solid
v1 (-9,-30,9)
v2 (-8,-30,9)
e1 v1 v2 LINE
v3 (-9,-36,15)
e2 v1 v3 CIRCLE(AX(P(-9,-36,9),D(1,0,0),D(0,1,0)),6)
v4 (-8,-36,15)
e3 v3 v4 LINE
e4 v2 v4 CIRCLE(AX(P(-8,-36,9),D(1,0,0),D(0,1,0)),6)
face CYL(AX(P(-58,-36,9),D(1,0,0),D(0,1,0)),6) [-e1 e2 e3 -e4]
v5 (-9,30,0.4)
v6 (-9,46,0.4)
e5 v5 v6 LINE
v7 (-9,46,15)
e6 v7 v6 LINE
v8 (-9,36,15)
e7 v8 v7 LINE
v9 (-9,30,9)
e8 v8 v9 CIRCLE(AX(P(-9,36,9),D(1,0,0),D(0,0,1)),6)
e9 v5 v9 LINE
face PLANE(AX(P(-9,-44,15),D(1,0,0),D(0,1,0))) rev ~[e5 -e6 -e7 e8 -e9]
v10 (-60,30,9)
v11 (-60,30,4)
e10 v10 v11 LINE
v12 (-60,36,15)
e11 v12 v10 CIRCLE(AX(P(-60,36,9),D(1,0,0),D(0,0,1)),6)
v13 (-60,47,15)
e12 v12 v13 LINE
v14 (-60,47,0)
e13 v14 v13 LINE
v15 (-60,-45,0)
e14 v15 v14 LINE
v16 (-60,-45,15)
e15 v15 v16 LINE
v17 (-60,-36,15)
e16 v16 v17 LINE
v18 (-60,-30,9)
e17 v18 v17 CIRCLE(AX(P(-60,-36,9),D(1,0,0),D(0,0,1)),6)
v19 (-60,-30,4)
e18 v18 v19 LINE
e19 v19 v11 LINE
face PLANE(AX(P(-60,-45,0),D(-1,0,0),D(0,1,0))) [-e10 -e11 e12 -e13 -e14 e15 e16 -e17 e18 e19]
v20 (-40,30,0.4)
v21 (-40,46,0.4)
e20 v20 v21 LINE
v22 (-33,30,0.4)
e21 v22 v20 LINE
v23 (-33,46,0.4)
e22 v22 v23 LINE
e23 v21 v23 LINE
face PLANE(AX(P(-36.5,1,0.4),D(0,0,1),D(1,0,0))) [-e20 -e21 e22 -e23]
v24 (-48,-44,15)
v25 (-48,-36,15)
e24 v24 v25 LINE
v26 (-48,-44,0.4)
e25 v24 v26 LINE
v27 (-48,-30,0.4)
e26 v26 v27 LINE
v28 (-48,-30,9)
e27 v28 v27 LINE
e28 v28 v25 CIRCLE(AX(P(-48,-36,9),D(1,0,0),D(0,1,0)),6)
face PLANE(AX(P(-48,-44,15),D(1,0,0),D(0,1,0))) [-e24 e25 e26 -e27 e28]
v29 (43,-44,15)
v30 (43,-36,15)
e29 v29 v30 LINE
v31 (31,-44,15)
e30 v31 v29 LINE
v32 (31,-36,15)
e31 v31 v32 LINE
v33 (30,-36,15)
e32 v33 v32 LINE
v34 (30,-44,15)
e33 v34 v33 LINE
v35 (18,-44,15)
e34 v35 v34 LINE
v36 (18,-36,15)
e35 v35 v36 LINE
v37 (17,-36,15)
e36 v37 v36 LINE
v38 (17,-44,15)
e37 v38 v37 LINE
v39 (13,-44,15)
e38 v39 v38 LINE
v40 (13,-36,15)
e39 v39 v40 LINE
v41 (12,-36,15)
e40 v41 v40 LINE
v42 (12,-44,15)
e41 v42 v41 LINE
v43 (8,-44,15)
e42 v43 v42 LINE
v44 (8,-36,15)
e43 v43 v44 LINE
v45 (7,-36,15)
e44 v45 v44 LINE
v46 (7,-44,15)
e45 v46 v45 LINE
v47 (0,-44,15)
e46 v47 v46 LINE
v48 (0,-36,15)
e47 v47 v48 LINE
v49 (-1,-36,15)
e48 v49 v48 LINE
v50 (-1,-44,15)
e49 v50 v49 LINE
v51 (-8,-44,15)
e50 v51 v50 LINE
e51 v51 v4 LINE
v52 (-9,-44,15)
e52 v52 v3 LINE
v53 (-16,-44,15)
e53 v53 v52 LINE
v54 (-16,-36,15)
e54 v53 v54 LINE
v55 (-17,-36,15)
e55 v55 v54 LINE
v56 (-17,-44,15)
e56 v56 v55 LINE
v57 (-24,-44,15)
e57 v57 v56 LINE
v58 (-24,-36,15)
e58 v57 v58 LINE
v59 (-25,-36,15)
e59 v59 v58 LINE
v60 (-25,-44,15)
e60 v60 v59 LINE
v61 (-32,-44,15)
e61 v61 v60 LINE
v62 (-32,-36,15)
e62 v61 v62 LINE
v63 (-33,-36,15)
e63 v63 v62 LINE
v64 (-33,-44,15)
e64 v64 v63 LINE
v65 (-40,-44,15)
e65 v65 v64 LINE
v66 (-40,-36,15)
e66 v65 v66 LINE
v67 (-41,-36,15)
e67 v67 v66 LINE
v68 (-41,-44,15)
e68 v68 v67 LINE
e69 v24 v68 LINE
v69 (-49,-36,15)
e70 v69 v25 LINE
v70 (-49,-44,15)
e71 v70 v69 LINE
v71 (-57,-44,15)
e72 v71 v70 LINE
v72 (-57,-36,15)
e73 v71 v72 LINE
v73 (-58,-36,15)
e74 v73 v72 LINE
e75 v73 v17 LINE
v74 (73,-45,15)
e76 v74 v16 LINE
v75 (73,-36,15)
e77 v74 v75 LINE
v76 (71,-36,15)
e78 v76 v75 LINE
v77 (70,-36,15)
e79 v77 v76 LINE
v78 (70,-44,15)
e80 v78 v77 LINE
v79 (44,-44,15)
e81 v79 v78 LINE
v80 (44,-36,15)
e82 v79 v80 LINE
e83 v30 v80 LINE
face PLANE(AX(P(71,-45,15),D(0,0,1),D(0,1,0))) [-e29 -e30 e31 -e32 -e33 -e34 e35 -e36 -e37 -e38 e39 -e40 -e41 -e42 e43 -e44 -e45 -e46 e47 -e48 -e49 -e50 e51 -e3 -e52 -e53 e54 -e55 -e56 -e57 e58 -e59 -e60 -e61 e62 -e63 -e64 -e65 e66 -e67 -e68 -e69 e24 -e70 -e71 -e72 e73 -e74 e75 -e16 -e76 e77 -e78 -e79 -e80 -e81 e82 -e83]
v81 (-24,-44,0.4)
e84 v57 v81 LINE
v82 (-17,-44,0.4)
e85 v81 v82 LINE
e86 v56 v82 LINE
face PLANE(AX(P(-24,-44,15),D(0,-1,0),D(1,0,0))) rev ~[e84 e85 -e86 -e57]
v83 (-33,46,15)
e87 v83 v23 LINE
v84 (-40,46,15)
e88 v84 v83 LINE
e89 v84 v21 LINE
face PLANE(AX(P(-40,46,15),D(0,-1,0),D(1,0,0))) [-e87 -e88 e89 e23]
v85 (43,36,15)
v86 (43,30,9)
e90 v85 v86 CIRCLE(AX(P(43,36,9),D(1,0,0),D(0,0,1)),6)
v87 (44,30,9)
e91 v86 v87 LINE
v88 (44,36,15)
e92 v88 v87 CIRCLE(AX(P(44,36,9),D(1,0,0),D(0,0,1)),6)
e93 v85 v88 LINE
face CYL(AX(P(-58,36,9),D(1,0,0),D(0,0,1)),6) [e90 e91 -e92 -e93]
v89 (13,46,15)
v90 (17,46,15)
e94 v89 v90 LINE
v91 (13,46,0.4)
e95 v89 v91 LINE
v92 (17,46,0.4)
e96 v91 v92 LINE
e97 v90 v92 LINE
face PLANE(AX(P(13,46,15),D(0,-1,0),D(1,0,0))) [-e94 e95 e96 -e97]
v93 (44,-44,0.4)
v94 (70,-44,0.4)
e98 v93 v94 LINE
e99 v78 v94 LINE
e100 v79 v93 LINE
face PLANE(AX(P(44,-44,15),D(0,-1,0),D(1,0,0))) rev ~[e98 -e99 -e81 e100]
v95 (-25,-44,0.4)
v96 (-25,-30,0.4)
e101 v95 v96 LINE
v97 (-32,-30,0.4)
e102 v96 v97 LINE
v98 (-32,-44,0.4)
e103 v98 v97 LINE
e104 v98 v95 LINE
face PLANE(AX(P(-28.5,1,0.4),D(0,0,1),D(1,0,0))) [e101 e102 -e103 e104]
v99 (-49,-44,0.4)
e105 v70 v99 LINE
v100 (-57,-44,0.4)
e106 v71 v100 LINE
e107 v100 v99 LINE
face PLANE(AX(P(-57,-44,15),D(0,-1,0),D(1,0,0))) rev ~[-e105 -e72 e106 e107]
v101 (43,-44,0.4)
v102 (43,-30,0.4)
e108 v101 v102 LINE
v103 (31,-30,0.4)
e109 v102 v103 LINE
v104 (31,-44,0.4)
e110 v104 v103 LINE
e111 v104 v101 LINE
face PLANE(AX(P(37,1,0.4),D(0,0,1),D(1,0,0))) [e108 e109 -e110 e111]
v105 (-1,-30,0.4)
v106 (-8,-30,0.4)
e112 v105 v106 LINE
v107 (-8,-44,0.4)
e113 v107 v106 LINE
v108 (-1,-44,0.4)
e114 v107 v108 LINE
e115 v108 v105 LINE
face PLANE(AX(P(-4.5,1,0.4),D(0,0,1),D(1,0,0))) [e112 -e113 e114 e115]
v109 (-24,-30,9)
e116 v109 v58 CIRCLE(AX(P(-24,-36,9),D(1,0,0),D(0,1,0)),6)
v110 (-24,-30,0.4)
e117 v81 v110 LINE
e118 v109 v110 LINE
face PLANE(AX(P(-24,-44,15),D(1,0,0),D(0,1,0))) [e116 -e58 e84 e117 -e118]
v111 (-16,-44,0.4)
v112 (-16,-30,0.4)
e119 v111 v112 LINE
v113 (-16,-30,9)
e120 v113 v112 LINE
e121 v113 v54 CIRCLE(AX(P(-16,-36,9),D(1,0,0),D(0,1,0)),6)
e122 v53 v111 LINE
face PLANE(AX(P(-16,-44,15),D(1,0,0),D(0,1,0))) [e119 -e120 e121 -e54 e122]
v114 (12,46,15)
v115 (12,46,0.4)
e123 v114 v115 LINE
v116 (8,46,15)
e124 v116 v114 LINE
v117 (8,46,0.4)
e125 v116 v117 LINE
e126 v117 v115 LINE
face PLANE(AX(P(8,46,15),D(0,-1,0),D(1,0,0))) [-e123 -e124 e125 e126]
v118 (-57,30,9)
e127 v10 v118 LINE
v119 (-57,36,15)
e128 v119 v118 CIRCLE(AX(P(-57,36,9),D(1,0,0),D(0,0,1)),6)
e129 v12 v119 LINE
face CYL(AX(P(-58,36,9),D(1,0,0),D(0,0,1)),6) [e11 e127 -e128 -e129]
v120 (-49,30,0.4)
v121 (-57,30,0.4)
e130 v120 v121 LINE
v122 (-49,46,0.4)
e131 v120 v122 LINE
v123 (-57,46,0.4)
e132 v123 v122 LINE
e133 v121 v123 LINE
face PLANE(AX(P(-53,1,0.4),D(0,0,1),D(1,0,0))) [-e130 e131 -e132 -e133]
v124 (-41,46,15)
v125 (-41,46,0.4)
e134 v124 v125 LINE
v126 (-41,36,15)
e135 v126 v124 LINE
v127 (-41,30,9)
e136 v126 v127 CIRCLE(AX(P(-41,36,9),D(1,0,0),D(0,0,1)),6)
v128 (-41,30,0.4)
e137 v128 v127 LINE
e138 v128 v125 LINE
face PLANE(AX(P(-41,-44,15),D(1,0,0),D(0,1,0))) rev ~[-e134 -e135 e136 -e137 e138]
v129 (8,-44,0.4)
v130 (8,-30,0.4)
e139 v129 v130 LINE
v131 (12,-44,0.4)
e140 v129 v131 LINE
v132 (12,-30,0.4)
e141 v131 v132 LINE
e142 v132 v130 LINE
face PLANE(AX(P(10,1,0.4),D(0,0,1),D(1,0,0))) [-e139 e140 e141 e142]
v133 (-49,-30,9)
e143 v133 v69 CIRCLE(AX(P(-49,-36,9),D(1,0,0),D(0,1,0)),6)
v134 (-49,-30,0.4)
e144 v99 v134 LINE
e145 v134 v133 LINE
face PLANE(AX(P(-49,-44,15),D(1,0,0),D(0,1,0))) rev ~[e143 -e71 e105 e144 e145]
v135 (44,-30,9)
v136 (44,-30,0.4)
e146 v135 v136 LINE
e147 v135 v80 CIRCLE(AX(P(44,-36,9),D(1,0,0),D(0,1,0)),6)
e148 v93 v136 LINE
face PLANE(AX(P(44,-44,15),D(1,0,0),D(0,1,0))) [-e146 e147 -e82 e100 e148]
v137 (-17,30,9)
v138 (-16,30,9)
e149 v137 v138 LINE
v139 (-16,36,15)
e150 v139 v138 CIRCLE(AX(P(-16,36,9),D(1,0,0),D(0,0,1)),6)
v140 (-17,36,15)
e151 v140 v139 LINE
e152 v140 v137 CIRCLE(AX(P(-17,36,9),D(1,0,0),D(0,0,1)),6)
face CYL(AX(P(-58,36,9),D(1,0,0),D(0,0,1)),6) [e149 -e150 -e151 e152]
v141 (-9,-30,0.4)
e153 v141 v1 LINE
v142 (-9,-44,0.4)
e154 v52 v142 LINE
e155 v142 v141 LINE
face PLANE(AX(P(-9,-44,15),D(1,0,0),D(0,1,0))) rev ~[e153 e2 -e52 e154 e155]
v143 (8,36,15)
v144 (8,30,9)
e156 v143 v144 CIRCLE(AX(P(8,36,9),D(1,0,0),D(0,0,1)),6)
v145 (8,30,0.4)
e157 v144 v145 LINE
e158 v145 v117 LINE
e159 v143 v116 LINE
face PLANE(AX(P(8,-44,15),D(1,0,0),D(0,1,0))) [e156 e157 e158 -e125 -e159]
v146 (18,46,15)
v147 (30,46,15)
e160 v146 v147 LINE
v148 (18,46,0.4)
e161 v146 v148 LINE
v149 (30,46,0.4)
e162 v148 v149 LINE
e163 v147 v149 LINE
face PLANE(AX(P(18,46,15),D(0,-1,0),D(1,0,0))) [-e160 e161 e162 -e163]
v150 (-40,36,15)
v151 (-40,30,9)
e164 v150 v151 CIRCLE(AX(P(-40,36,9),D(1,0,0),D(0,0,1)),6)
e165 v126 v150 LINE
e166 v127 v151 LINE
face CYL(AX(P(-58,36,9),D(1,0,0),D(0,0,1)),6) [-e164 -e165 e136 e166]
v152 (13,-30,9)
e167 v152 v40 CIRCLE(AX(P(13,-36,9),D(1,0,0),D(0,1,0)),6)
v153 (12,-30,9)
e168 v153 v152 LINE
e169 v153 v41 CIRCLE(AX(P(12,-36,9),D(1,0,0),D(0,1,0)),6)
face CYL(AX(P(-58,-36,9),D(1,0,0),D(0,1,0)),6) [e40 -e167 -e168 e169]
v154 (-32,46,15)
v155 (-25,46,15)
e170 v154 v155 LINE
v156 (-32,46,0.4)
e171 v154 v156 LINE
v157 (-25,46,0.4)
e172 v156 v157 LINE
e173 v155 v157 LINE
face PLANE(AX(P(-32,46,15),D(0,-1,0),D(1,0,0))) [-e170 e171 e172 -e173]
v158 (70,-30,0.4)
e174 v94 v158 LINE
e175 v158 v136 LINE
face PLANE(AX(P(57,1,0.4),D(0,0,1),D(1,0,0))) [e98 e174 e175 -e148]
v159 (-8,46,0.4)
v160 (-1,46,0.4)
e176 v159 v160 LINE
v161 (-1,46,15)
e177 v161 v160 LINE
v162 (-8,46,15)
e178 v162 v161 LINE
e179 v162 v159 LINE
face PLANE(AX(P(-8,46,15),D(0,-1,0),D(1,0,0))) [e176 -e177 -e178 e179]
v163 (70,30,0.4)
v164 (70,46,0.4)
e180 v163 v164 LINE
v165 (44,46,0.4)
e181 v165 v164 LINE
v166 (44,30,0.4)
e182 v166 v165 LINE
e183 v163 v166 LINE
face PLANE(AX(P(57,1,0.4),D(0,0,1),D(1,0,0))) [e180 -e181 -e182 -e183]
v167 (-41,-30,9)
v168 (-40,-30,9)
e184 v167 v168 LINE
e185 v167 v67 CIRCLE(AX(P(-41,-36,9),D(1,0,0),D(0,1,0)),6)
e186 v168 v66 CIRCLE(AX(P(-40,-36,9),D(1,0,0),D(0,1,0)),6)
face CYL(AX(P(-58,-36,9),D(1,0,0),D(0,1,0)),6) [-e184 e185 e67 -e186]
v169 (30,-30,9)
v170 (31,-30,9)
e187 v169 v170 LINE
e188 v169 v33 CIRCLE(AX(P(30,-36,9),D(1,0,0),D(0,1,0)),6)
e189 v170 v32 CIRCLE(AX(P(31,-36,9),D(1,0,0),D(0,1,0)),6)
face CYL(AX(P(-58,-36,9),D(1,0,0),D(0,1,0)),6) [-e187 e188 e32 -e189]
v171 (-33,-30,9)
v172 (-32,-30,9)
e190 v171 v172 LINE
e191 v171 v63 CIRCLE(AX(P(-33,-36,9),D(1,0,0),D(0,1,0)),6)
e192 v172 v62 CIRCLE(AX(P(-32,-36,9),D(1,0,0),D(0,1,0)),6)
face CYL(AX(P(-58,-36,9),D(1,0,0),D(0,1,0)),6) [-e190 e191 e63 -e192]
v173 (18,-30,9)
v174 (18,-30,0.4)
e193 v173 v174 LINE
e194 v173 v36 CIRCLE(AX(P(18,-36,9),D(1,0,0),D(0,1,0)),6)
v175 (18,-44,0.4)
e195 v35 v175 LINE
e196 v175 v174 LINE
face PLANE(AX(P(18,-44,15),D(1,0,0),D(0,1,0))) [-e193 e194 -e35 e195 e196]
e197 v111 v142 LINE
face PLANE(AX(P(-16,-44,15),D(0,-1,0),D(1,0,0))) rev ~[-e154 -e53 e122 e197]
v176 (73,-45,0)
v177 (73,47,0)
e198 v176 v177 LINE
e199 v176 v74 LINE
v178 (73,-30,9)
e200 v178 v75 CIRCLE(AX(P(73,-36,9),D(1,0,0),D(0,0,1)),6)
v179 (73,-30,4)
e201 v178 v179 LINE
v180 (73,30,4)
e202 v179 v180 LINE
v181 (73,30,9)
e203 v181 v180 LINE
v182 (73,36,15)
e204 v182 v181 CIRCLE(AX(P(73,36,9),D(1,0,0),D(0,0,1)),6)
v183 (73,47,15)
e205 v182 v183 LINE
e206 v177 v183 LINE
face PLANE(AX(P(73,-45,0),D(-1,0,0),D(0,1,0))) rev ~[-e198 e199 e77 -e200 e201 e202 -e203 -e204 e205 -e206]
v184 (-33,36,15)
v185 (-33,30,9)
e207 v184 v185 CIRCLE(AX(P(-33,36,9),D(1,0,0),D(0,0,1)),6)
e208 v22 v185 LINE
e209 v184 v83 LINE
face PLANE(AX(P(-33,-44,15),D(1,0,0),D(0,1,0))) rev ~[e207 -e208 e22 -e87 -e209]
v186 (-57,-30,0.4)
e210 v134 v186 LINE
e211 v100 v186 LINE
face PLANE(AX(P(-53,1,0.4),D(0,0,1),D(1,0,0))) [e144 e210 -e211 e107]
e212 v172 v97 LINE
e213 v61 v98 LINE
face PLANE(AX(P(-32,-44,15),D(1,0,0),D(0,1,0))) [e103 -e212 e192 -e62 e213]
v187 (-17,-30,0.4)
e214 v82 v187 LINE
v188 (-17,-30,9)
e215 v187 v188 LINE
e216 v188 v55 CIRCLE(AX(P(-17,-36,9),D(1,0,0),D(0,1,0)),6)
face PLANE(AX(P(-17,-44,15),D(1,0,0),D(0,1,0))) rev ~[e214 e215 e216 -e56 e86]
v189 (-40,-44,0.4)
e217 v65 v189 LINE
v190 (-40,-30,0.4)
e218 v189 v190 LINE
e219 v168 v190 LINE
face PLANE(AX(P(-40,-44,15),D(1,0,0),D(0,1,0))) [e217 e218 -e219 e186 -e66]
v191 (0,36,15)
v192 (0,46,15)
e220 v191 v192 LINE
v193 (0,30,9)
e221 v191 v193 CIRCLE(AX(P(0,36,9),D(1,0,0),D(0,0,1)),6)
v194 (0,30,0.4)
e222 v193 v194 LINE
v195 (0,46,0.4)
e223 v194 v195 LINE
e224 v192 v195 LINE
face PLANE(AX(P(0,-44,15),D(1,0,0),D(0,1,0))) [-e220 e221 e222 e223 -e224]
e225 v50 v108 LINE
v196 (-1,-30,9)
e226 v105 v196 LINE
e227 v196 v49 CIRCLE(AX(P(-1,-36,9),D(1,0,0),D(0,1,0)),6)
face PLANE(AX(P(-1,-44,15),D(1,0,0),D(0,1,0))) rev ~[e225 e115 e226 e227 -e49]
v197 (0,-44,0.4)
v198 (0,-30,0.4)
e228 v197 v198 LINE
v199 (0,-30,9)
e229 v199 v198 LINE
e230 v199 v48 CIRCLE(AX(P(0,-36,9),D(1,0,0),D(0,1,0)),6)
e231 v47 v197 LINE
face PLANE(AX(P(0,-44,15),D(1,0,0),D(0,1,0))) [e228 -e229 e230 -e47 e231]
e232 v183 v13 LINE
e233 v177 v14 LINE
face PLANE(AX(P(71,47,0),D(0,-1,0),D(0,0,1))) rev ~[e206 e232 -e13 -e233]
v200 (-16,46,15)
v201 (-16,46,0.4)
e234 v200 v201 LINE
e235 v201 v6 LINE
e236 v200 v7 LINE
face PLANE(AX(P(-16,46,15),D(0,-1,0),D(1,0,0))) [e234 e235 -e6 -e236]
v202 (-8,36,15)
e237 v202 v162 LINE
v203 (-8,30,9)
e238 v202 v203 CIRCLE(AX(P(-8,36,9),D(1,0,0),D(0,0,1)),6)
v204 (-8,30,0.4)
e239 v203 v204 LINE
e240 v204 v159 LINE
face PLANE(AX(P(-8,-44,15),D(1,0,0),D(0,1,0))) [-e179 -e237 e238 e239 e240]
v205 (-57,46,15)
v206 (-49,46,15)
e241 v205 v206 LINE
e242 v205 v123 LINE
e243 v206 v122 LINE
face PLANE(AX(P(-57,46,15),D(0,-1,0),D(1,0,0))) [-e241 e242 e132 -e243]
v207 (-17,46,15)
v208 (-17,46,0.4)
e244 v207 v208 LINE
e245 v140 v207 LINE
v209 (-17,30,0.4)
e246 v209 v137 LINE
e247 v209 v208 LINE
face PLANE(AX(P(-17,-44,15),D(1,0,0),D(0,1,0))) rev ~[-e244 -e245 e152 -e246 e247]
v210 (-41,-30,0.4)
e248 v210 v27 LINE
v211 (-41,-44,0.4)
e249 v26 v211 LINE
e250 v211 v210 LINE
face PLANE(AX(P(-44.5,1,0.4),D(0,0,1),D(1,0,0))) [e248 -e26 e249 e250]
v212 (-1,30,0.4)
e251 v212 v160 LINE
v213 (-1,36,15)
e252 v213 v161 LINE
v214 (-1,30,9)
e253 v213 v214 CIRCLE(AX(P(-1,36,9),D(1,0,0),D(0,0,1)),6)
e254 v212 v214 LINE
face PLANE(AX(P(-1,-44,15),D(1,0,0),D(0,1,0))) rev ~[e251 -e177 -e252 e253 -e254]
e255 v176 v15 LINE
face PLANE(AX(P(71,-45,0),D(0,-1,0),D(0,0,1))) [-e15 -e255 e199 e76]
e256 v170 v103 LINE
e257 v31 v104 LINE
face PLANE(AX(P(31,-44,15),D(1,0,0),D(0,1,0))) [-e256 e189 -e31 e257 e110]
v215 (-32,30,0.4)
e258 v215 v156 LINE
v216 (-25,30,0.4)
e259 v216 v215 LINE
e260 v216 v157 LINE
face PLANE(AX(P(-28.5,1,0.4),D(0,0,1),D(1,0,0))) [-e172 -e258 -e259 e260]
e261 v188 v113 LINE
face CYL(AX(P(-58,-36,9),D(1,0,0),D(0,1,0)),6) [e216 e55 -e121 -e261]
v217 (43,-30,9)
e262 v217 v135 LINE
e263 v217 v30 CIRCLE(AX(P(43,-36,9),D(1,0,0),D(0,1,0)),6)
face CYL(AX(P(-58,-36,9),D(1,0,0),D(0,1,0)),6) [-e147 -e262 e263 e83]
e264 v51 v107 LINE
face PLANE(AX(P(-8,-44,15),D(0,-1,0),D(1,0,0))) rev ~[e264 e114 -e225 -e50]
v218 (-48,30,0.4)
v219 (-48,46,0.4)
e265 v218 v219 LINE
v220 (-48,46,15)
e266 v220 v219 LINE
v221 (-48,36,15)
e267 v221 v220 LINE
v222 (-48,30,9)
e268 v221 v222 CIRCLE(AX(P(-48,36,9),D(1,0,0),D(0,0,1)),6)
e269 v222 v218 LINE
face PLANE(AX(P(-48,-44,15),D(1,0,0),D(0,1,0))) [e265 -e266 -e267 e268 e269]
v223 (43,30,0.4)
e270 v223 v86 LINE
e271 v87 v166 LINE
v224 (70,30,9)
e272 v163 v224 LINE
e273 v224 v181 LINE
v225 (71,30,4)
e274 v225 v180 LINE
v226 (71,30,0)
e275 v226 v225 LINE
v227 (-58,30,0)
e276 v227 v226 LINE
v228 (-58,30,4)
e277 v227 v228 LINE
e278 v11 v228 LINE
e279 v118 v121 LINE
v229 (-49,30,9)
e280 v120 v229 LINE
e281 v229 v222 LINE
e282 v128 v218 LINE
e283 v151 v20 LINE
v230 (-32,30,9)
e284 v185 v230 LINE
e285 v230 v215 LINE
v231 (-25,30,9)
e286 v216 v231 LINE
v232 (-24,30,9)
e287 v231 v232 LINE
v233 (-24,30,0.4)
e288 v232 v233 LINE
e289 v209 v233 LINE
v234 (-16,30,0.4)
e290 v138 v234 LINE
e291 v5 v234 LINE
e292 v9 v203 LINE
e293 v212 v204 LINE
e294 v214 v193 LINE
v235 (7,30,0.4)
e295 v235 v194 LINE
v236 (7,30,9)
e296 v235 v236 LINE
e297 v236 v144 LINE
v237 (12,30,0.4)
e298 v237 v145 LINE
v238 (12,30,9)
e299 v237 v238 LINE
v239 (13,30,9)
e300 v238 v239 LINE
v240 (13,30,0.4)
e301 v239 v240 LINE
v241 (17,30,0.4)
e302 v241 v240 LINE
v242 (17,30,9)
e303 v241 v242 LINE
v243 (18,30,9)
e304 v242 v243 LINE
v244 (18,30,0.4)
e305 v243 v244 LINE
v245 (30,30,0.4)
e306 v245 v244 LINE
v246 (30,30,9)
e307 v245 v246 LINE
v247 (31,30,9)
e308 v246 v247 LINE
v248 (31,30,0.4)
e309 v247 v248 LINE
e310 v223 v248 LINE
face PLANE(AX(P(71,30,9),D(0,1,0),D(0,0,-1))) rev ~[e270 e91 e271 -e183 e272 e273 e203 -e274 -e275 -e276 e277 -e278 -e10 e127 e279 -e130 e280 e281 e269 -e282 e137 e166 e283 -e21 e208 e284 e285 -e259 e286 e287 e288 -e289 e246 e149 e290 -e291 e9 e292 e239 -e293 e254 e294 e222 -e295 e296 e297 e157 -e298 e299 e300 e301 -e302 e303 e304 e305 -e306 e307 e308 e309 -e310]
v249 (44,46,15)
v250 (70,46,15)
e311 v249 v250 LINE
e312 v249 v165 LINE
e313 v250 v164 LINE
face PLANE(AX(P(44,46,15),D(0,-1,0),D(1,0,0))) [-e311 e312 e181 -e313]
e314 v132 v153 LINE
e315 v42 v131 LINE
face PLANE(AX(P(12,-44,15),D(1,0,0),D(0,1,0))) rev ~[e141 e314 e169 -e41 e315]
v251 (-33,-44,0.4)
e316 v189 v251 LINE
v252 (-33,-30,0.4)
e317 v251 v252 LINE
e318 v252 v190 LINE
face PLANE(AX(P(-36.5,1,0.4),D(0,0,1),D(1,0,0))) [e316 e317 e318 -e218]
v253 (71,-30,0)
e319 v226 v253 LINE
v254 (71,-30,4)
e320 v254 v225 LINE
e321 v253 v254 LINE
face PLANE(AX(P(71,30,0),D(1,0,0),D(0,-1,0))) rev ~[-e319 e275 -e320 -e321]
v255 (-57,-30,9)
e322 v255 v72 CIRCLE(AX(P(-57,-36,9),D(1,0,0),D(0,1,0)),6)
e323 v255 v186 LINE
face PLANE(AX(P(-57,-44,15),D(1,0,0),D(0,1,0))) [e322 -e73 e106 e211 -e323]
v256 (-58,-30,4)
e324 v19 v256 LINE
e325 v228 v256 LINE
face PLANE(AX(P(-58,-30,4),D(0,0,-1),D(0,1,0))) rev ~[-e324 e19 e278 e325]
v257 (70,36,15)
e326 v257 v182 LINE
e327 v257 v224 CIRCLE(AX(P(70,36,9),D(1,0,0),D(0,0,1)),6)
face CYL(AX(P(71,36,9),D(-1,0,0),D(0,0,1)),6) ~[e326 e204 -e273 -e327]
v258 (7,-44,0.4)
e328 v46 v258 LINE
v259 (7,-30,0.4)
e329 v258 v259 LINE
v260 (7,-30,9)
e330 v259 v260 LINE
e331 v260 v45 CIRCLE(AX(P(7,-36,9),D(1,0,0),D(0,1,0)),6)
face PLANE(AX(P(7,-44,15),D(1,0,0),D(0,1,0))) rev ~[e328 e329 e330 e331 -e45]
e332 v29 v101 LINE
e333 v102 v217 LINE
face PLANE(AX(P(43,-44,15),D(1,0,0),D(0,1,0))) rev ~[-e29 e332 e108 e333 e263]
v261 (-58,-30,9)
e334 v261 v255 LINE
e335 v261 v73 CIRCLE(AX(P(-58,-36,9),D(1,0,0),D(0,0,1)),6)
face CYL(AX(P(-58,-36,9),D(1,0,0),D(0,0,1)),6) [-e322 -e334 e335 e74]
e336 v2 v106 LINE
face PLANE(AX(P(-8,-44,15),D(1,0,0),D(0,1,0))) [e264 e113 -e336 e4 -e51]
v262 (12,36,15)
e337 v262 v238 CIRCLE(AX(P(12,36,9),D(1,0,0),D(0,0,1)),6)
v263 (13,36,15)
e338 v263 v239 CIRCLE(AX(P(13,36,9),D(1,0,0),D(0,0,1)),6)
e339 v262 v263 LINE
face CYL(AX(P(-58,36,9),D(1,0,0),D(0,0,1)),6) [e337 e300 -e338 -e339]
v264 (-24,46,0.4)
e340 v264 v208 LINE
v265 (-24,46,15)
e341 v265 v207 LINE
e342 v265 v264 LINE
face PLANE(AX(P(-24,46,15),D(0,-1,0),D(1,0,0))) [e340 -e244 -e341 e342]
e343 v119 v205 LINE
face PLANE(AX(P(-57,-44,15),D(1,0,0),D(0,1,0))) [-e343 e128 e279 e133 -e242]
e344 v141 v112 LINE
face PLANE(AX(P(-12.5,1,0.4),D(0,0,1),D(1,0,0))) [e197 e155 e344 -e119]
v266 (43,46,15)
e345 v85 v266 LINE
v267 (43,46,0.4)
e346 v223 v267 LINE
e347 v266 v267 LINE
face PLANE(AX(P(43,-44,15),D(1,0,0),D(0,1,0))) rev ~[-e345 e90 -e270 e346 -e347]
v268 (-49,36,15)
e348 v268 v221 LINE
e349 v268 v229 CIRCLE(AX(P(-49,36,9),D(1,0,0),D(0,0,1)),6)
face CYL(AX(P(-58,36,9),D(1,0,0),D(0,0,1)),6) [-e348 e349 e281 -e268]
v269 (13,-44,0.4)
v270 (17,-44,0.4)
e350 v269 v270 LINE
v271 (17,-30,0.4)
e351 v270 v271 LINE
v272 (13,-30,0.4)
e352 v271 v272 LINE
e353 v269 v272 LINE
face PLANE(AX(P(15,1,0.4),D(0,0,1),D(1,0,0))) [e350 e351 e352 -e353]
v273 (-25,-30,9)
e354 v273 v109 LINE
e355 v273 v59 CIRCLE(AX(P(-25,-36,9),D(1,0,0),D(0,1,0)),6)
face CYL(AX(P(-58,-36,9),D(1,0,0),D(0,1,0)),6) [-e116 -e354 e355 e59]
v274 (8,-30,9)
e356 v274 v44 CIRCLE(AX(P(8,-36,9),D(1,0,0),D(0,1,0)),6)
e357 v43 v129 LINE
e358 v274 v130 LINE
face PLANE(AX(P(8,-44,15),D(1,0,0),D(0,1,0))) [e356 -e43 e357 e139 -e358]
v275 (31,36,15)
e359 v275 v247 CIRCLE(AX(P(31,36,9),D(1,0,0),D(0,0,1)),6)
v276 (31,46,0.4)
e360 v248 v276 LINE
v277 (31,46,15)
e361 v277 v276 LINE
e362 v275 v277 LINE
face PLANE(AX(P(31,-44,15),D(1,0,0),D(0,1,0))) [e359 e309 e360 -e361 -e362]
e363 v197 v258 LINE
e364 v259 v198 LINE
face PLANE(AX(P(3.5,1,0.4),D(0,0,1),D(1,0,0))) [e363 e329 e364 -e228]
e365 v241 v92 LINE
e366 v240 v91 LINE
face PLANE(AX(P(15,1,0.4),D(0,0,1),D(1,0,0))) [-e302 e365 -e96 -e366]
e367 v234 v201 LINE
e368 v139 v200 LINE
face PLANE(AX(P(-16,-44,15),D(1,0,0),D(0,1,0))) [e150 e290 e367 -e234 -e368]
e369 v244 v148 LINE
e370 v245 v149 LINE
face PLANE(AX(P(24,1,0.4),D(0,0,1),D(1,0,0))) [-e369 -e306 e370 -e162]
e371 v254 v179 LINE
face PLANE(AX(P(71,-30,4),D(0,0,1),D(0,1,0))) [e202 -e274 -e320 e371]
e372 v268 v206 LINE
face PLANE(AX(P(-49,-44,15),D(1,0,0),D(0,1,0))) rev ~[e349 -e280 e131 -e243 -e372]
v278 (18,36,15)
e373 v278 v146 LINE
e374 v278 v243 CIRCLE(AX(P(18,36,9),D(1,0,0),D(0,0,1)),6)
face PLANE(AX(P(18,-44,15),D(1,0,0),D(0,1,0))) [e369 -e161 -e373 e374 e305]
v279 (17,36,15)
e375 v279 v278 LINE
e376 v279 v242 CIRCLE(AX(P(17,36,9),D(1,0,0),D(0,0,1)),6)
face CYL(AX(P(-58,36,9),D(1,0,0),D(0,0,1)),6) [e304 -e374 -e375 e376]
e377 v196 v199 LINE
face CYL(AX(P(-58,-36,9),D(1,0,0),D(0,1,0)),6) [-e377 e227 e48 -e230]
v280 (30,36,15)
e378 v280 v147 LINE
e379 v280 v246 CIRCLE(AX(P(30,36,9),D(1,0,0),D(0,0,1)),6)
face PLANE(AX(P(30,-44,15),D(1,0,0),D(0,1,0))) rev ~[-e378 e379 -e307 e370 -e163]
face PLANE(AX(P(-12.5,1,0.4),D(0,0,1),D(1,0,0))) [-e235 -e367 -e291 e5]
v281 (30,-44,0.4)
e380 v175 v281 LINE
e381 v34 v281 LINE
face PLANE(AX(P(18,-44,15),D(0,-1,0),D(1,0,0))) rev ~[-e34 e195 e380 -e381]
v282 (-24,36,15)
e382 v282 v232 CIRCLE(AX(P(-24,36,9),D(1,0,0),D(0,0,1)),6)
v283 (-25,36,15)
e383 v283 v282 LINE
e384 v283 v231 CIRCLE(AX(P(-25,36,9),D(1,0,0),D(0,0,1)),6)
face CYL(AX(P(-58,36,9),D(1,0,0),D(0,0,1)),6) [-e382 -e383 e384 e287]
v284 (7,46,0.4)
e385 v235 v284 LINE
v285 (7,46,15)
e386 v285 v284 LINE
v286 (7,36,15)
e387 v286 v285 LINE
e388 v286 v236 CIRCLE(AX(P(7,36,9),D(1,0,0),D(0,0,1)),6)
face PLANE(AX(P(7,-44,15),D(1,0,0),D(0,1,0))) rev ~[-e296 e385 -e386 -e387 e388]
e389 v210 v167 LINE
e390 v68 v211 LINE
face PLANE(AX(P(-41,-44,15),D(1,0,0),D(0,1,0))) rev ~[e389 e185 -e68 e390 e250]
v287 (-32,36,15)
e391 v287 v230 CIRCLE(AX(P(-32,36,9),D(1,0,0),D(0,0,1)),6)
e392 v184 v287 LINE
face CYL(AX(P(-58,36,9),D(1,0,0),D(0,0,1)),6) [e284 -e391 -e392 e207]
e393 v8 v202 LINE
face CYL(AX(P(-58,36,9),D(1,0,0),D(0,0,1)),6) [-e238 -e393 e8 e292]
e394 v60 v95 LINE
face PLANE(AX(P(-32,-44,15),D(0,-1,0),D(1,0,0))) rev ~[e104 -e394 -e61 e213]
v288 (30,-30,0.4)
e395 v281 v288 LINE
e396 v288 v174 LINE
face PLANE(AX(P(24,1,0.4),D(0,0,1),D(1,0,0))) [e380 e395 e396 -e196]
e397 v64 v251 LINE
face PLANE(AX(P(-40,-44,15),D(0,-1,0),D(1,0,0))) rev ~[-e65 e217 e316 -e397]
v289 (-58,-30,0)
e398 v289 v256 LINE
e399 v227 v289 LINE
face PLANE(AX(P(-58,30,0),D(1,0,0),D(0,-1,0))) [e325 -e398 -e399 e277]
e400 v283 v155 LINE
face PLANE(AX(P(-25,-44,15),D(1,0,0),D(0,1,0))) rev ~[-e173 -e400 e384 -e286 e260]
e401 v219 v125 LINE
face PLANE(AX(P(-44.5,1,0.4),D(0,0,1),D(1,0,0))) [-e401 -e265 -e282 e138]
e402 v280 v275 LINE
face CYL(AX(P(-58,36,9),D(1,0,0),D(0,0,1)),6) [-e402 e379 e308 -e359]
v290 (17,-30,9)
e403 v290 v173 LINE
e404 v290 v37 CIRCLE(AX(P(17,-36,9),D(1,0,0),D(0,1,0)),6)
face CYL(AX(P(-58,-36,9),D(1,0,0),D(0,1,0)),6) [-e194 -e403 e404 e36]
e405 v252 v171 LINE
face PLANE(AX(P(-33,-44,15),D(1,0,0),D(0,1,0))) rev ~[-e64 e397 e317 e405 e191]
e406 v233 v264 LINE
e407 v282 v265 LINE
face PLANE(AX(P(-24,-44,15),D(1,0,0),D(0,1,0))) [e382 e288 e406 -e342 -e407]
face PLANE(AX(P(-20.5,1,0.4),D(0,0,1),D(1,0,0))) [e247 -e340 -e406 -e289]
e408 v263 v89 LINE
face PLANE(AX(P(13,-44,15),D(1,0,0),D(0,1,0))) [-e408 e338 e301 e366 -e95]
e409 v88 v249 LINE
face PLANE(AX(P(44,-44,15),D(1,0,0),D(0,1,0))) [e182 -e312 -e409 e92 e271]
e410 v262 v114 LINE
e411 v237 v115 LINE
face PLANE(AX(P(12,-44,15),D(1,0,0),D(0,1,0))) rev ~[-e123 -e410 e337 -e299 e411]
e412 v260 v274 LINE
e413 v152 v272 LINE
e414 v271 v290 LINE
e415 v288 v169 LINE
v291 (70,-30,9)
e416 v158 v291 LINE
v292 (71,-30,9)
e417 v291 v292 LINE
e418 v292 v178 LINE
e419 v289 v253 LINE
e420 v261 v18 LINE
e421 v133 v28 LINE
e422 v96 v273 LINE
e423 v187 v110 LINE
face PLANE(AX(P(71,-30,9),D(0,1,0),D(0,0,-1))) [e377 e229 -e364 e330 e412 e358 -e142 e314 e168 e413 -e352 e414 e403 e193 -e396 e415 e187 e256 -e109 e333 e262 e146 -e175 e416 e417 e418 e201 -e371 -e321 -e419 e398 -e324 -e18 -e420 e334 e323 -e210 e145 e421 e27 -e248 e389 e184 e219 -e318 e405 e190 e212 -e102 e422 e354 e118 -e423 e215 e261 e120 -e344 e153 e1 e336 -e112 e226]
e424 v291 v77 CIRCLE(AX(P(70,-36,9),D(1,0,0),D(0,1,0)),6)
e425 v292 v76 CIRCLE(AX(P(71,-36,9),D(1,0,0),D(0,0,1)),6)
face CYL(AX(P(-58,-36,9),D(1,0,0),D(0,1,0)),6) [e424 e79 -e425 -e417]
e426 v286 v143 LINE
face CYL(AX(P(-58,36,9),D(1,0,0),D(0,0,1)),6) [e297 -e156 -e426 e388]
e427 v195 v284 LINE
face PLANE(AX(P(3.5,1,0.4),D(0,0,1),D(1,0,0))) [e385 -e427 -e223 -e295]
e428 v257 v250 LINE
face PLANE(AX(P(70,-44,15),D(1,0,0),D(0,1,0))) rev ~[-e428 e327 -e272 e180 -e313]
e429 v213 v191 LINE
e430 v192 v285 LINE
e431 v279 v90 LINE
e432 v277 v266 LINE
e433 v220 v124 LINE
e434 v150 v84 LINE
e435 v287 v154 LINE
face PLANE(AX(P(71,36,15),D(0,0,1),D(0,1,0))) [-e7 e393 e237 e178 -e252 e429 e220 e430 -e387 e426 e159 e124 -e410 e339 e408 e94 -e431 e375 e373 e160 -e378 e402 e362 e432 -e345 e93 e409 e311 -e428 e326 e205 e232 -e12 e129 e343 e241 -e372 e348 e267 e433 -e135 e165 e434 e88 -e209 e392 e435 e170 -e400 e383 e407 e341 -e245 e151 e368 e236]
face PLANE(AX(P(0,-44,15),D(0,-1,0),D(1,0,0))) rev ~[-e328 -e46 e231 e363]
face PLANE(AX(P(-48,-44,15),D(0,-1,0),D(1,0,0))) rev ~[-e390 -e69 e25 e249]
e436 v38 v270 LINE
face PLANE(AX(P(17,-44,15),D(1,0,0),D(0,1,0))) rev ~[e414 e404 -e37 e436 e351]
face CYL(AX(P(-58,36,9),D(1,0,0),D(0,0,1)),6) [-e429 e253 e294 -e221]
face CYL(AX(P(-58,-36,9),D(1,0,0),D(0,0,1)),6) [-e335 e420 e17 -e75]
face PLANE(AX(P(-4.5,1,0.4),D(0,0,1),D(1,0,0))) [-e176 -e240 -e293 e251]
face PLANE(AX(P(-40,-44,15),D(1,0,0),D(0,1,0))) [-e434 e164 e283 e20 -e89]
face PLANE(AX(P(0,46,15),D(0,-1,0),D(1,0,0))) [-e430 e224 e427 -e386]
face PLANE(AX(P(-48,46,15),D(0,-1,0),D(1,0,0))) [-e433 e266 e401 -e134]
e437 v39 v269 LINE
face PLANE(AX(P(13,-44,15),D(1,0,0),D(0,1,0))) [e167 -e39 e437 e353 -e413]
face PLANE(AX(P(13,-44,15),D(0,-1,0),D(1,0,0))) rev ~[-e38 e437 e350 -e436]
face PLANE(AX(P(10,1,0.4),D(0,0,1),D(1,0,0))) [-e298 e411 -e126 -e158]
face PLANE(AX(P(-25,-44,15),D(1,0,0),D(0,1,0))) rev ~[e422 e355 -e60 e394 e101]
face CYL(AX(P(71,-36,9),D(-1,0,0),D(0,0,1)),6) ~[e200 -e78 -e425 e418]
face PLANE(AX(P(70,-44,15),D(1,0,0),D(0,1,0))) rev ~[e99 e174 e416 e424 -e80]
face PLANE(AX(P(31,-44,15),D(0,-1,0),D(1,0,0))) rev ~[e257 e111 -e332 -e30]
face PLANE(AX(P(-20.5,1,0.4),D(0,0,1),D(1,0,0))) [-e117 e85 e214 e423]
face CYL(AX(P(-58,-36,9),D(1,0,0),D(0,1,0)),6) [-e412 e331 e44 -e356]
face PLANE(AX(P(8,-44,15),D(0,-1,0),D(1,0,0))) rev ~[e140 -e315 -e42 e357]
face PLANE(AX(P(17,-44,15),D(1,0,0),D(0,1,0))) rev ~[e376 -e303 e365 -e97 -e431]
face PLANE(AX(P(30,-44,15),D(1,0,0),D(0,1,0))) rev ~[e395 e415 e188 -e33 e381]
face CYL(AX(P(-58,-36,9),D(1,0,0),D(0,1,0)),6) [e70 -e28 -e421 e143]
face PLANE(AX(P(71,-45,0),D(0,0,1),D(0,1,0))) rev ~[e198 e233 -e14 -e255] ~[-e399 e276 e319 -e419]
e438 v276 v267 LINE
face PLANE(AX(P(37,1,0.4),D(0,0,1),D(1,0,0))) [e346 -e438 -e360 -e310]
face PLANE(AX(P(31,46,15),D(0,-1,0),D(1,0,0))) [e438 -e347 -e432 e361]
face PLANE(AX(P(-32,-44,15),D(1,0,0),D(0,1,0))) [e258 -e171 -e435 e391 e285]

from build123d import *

# Parameters (mm, degrees)
F1_W      = 129
F1_H      = 92
F2_DEPTH  = 15
F4_W      = 129
F4_H      = 60
F5_DEPTH  = 11
F6_R      = 6
F3_W      = 8
F3_H      = 90
F3_W_2    = 7
F3_W_3    = 4
F3_W_4    = 12
F3_W_5    = 26
F7_DEPTH  = 14.6
F8_DEPTH  = 2
F9_DEPTH  = 2
F10_W     = 129
F10_H     = 60
F11_DEPTH = 25


with BuildPart() as f2:
    # F1 (on Top) → F2 (new body)
    with BuildSketch(Plane.XY):
        with Locations((6.5, 1)):
            Rectangle(F1_W, F1_H)
    extrude(amount=F2_DEPTH)

    # F4 (on face) → F5 (cut)
    with BuildSketch(Plane.XY.offset(15)):
        with Locations((6.5, 0)):
            Rectangle(F4_W, F4_H)
    extrude(amount=-F5_DEPTH, mode=Mode.SUBTRACT)

    # F6
    f6_edges = [f2.edges().sort_by_distance(p)[0] for p in [
        (6.5, 30, 15),
        (6.5, -30, 15),
    ]]
    fillet(f6_edges, radius=F6_R)

    # F3 (on face) → F7 (cut)
    with BuildSketch(Plane.XY.offset(15)):
        with Locations((-53, 1)):
            Rectangle(F3_W, F3_H)
        with Locations((-44.5, 1)):
            Rectangle(F3_W_2, F3_H)
        with Locations((-36.5, 1)):
            Rectangle(F3_W_2, F3_H)
        with Locations((-28.5, 1)):
            Rectangle(F3_W_2, F3_H)
        with Locations((-20.5, 1)):
            Rectangle(F3_W_2, F3_H)
        with Locations((-12.5, 1)):
            Rectangle(F3_W_2, F3_H)
        with Locations((-4.5, 1)):
            Rectangle(F3_W_2, F3_H)
        with Locations((3.5, 1)):
            Rectangle(F3_W_2, F3_H)
        with Locations((10, 1)):
            Rectangle(F3_W_3, F3_H)
        with Locations((15, 1)):
            Rectangle(F3_W_3, F3_H)
        with Locations((24, 1)):
            Rectangle(F3_W_4, F3_H)
        with Locations((37, 1)):
            Rectangle(F3_W_4, F3_H)
        with Locations((57, 1)):
            Rectangle(F3_W_5, F3_H)
    extrude(amount=-F7_DEPTH, mode=Mode.SUBTRACT)

    # F8 (add): a face of the model
    f8_faces = [f2.faces().sort_by_distance(p)[0] for p in [
        (-58, -40.5, 14.0678519431),
    ]]
    extrude(f8_faces, amount=F8_DEPTH)

    # F9 (add): a face of the model
    f9_faces = [f2.faces().sort_by_distance(p)[0] for p in [
        (71, 41.5, 14.0678519431),
    ]]
    extrude(f9_faces, amount=F9_DEPTH)

    # F10 (on face) → F11 (cut)
    with BuildSketch(Plane(origin=(0, 0, 0), x_dir=(1, 0, 0), z_dir=(0, 0, -1))):
        with Locations((6.5, 0)):
            Rectangle(F10_W, F10_H)
    extrude(amount=-F11_DEPTH, mode=Mode.SUBTRACT)


solid = f2.part
